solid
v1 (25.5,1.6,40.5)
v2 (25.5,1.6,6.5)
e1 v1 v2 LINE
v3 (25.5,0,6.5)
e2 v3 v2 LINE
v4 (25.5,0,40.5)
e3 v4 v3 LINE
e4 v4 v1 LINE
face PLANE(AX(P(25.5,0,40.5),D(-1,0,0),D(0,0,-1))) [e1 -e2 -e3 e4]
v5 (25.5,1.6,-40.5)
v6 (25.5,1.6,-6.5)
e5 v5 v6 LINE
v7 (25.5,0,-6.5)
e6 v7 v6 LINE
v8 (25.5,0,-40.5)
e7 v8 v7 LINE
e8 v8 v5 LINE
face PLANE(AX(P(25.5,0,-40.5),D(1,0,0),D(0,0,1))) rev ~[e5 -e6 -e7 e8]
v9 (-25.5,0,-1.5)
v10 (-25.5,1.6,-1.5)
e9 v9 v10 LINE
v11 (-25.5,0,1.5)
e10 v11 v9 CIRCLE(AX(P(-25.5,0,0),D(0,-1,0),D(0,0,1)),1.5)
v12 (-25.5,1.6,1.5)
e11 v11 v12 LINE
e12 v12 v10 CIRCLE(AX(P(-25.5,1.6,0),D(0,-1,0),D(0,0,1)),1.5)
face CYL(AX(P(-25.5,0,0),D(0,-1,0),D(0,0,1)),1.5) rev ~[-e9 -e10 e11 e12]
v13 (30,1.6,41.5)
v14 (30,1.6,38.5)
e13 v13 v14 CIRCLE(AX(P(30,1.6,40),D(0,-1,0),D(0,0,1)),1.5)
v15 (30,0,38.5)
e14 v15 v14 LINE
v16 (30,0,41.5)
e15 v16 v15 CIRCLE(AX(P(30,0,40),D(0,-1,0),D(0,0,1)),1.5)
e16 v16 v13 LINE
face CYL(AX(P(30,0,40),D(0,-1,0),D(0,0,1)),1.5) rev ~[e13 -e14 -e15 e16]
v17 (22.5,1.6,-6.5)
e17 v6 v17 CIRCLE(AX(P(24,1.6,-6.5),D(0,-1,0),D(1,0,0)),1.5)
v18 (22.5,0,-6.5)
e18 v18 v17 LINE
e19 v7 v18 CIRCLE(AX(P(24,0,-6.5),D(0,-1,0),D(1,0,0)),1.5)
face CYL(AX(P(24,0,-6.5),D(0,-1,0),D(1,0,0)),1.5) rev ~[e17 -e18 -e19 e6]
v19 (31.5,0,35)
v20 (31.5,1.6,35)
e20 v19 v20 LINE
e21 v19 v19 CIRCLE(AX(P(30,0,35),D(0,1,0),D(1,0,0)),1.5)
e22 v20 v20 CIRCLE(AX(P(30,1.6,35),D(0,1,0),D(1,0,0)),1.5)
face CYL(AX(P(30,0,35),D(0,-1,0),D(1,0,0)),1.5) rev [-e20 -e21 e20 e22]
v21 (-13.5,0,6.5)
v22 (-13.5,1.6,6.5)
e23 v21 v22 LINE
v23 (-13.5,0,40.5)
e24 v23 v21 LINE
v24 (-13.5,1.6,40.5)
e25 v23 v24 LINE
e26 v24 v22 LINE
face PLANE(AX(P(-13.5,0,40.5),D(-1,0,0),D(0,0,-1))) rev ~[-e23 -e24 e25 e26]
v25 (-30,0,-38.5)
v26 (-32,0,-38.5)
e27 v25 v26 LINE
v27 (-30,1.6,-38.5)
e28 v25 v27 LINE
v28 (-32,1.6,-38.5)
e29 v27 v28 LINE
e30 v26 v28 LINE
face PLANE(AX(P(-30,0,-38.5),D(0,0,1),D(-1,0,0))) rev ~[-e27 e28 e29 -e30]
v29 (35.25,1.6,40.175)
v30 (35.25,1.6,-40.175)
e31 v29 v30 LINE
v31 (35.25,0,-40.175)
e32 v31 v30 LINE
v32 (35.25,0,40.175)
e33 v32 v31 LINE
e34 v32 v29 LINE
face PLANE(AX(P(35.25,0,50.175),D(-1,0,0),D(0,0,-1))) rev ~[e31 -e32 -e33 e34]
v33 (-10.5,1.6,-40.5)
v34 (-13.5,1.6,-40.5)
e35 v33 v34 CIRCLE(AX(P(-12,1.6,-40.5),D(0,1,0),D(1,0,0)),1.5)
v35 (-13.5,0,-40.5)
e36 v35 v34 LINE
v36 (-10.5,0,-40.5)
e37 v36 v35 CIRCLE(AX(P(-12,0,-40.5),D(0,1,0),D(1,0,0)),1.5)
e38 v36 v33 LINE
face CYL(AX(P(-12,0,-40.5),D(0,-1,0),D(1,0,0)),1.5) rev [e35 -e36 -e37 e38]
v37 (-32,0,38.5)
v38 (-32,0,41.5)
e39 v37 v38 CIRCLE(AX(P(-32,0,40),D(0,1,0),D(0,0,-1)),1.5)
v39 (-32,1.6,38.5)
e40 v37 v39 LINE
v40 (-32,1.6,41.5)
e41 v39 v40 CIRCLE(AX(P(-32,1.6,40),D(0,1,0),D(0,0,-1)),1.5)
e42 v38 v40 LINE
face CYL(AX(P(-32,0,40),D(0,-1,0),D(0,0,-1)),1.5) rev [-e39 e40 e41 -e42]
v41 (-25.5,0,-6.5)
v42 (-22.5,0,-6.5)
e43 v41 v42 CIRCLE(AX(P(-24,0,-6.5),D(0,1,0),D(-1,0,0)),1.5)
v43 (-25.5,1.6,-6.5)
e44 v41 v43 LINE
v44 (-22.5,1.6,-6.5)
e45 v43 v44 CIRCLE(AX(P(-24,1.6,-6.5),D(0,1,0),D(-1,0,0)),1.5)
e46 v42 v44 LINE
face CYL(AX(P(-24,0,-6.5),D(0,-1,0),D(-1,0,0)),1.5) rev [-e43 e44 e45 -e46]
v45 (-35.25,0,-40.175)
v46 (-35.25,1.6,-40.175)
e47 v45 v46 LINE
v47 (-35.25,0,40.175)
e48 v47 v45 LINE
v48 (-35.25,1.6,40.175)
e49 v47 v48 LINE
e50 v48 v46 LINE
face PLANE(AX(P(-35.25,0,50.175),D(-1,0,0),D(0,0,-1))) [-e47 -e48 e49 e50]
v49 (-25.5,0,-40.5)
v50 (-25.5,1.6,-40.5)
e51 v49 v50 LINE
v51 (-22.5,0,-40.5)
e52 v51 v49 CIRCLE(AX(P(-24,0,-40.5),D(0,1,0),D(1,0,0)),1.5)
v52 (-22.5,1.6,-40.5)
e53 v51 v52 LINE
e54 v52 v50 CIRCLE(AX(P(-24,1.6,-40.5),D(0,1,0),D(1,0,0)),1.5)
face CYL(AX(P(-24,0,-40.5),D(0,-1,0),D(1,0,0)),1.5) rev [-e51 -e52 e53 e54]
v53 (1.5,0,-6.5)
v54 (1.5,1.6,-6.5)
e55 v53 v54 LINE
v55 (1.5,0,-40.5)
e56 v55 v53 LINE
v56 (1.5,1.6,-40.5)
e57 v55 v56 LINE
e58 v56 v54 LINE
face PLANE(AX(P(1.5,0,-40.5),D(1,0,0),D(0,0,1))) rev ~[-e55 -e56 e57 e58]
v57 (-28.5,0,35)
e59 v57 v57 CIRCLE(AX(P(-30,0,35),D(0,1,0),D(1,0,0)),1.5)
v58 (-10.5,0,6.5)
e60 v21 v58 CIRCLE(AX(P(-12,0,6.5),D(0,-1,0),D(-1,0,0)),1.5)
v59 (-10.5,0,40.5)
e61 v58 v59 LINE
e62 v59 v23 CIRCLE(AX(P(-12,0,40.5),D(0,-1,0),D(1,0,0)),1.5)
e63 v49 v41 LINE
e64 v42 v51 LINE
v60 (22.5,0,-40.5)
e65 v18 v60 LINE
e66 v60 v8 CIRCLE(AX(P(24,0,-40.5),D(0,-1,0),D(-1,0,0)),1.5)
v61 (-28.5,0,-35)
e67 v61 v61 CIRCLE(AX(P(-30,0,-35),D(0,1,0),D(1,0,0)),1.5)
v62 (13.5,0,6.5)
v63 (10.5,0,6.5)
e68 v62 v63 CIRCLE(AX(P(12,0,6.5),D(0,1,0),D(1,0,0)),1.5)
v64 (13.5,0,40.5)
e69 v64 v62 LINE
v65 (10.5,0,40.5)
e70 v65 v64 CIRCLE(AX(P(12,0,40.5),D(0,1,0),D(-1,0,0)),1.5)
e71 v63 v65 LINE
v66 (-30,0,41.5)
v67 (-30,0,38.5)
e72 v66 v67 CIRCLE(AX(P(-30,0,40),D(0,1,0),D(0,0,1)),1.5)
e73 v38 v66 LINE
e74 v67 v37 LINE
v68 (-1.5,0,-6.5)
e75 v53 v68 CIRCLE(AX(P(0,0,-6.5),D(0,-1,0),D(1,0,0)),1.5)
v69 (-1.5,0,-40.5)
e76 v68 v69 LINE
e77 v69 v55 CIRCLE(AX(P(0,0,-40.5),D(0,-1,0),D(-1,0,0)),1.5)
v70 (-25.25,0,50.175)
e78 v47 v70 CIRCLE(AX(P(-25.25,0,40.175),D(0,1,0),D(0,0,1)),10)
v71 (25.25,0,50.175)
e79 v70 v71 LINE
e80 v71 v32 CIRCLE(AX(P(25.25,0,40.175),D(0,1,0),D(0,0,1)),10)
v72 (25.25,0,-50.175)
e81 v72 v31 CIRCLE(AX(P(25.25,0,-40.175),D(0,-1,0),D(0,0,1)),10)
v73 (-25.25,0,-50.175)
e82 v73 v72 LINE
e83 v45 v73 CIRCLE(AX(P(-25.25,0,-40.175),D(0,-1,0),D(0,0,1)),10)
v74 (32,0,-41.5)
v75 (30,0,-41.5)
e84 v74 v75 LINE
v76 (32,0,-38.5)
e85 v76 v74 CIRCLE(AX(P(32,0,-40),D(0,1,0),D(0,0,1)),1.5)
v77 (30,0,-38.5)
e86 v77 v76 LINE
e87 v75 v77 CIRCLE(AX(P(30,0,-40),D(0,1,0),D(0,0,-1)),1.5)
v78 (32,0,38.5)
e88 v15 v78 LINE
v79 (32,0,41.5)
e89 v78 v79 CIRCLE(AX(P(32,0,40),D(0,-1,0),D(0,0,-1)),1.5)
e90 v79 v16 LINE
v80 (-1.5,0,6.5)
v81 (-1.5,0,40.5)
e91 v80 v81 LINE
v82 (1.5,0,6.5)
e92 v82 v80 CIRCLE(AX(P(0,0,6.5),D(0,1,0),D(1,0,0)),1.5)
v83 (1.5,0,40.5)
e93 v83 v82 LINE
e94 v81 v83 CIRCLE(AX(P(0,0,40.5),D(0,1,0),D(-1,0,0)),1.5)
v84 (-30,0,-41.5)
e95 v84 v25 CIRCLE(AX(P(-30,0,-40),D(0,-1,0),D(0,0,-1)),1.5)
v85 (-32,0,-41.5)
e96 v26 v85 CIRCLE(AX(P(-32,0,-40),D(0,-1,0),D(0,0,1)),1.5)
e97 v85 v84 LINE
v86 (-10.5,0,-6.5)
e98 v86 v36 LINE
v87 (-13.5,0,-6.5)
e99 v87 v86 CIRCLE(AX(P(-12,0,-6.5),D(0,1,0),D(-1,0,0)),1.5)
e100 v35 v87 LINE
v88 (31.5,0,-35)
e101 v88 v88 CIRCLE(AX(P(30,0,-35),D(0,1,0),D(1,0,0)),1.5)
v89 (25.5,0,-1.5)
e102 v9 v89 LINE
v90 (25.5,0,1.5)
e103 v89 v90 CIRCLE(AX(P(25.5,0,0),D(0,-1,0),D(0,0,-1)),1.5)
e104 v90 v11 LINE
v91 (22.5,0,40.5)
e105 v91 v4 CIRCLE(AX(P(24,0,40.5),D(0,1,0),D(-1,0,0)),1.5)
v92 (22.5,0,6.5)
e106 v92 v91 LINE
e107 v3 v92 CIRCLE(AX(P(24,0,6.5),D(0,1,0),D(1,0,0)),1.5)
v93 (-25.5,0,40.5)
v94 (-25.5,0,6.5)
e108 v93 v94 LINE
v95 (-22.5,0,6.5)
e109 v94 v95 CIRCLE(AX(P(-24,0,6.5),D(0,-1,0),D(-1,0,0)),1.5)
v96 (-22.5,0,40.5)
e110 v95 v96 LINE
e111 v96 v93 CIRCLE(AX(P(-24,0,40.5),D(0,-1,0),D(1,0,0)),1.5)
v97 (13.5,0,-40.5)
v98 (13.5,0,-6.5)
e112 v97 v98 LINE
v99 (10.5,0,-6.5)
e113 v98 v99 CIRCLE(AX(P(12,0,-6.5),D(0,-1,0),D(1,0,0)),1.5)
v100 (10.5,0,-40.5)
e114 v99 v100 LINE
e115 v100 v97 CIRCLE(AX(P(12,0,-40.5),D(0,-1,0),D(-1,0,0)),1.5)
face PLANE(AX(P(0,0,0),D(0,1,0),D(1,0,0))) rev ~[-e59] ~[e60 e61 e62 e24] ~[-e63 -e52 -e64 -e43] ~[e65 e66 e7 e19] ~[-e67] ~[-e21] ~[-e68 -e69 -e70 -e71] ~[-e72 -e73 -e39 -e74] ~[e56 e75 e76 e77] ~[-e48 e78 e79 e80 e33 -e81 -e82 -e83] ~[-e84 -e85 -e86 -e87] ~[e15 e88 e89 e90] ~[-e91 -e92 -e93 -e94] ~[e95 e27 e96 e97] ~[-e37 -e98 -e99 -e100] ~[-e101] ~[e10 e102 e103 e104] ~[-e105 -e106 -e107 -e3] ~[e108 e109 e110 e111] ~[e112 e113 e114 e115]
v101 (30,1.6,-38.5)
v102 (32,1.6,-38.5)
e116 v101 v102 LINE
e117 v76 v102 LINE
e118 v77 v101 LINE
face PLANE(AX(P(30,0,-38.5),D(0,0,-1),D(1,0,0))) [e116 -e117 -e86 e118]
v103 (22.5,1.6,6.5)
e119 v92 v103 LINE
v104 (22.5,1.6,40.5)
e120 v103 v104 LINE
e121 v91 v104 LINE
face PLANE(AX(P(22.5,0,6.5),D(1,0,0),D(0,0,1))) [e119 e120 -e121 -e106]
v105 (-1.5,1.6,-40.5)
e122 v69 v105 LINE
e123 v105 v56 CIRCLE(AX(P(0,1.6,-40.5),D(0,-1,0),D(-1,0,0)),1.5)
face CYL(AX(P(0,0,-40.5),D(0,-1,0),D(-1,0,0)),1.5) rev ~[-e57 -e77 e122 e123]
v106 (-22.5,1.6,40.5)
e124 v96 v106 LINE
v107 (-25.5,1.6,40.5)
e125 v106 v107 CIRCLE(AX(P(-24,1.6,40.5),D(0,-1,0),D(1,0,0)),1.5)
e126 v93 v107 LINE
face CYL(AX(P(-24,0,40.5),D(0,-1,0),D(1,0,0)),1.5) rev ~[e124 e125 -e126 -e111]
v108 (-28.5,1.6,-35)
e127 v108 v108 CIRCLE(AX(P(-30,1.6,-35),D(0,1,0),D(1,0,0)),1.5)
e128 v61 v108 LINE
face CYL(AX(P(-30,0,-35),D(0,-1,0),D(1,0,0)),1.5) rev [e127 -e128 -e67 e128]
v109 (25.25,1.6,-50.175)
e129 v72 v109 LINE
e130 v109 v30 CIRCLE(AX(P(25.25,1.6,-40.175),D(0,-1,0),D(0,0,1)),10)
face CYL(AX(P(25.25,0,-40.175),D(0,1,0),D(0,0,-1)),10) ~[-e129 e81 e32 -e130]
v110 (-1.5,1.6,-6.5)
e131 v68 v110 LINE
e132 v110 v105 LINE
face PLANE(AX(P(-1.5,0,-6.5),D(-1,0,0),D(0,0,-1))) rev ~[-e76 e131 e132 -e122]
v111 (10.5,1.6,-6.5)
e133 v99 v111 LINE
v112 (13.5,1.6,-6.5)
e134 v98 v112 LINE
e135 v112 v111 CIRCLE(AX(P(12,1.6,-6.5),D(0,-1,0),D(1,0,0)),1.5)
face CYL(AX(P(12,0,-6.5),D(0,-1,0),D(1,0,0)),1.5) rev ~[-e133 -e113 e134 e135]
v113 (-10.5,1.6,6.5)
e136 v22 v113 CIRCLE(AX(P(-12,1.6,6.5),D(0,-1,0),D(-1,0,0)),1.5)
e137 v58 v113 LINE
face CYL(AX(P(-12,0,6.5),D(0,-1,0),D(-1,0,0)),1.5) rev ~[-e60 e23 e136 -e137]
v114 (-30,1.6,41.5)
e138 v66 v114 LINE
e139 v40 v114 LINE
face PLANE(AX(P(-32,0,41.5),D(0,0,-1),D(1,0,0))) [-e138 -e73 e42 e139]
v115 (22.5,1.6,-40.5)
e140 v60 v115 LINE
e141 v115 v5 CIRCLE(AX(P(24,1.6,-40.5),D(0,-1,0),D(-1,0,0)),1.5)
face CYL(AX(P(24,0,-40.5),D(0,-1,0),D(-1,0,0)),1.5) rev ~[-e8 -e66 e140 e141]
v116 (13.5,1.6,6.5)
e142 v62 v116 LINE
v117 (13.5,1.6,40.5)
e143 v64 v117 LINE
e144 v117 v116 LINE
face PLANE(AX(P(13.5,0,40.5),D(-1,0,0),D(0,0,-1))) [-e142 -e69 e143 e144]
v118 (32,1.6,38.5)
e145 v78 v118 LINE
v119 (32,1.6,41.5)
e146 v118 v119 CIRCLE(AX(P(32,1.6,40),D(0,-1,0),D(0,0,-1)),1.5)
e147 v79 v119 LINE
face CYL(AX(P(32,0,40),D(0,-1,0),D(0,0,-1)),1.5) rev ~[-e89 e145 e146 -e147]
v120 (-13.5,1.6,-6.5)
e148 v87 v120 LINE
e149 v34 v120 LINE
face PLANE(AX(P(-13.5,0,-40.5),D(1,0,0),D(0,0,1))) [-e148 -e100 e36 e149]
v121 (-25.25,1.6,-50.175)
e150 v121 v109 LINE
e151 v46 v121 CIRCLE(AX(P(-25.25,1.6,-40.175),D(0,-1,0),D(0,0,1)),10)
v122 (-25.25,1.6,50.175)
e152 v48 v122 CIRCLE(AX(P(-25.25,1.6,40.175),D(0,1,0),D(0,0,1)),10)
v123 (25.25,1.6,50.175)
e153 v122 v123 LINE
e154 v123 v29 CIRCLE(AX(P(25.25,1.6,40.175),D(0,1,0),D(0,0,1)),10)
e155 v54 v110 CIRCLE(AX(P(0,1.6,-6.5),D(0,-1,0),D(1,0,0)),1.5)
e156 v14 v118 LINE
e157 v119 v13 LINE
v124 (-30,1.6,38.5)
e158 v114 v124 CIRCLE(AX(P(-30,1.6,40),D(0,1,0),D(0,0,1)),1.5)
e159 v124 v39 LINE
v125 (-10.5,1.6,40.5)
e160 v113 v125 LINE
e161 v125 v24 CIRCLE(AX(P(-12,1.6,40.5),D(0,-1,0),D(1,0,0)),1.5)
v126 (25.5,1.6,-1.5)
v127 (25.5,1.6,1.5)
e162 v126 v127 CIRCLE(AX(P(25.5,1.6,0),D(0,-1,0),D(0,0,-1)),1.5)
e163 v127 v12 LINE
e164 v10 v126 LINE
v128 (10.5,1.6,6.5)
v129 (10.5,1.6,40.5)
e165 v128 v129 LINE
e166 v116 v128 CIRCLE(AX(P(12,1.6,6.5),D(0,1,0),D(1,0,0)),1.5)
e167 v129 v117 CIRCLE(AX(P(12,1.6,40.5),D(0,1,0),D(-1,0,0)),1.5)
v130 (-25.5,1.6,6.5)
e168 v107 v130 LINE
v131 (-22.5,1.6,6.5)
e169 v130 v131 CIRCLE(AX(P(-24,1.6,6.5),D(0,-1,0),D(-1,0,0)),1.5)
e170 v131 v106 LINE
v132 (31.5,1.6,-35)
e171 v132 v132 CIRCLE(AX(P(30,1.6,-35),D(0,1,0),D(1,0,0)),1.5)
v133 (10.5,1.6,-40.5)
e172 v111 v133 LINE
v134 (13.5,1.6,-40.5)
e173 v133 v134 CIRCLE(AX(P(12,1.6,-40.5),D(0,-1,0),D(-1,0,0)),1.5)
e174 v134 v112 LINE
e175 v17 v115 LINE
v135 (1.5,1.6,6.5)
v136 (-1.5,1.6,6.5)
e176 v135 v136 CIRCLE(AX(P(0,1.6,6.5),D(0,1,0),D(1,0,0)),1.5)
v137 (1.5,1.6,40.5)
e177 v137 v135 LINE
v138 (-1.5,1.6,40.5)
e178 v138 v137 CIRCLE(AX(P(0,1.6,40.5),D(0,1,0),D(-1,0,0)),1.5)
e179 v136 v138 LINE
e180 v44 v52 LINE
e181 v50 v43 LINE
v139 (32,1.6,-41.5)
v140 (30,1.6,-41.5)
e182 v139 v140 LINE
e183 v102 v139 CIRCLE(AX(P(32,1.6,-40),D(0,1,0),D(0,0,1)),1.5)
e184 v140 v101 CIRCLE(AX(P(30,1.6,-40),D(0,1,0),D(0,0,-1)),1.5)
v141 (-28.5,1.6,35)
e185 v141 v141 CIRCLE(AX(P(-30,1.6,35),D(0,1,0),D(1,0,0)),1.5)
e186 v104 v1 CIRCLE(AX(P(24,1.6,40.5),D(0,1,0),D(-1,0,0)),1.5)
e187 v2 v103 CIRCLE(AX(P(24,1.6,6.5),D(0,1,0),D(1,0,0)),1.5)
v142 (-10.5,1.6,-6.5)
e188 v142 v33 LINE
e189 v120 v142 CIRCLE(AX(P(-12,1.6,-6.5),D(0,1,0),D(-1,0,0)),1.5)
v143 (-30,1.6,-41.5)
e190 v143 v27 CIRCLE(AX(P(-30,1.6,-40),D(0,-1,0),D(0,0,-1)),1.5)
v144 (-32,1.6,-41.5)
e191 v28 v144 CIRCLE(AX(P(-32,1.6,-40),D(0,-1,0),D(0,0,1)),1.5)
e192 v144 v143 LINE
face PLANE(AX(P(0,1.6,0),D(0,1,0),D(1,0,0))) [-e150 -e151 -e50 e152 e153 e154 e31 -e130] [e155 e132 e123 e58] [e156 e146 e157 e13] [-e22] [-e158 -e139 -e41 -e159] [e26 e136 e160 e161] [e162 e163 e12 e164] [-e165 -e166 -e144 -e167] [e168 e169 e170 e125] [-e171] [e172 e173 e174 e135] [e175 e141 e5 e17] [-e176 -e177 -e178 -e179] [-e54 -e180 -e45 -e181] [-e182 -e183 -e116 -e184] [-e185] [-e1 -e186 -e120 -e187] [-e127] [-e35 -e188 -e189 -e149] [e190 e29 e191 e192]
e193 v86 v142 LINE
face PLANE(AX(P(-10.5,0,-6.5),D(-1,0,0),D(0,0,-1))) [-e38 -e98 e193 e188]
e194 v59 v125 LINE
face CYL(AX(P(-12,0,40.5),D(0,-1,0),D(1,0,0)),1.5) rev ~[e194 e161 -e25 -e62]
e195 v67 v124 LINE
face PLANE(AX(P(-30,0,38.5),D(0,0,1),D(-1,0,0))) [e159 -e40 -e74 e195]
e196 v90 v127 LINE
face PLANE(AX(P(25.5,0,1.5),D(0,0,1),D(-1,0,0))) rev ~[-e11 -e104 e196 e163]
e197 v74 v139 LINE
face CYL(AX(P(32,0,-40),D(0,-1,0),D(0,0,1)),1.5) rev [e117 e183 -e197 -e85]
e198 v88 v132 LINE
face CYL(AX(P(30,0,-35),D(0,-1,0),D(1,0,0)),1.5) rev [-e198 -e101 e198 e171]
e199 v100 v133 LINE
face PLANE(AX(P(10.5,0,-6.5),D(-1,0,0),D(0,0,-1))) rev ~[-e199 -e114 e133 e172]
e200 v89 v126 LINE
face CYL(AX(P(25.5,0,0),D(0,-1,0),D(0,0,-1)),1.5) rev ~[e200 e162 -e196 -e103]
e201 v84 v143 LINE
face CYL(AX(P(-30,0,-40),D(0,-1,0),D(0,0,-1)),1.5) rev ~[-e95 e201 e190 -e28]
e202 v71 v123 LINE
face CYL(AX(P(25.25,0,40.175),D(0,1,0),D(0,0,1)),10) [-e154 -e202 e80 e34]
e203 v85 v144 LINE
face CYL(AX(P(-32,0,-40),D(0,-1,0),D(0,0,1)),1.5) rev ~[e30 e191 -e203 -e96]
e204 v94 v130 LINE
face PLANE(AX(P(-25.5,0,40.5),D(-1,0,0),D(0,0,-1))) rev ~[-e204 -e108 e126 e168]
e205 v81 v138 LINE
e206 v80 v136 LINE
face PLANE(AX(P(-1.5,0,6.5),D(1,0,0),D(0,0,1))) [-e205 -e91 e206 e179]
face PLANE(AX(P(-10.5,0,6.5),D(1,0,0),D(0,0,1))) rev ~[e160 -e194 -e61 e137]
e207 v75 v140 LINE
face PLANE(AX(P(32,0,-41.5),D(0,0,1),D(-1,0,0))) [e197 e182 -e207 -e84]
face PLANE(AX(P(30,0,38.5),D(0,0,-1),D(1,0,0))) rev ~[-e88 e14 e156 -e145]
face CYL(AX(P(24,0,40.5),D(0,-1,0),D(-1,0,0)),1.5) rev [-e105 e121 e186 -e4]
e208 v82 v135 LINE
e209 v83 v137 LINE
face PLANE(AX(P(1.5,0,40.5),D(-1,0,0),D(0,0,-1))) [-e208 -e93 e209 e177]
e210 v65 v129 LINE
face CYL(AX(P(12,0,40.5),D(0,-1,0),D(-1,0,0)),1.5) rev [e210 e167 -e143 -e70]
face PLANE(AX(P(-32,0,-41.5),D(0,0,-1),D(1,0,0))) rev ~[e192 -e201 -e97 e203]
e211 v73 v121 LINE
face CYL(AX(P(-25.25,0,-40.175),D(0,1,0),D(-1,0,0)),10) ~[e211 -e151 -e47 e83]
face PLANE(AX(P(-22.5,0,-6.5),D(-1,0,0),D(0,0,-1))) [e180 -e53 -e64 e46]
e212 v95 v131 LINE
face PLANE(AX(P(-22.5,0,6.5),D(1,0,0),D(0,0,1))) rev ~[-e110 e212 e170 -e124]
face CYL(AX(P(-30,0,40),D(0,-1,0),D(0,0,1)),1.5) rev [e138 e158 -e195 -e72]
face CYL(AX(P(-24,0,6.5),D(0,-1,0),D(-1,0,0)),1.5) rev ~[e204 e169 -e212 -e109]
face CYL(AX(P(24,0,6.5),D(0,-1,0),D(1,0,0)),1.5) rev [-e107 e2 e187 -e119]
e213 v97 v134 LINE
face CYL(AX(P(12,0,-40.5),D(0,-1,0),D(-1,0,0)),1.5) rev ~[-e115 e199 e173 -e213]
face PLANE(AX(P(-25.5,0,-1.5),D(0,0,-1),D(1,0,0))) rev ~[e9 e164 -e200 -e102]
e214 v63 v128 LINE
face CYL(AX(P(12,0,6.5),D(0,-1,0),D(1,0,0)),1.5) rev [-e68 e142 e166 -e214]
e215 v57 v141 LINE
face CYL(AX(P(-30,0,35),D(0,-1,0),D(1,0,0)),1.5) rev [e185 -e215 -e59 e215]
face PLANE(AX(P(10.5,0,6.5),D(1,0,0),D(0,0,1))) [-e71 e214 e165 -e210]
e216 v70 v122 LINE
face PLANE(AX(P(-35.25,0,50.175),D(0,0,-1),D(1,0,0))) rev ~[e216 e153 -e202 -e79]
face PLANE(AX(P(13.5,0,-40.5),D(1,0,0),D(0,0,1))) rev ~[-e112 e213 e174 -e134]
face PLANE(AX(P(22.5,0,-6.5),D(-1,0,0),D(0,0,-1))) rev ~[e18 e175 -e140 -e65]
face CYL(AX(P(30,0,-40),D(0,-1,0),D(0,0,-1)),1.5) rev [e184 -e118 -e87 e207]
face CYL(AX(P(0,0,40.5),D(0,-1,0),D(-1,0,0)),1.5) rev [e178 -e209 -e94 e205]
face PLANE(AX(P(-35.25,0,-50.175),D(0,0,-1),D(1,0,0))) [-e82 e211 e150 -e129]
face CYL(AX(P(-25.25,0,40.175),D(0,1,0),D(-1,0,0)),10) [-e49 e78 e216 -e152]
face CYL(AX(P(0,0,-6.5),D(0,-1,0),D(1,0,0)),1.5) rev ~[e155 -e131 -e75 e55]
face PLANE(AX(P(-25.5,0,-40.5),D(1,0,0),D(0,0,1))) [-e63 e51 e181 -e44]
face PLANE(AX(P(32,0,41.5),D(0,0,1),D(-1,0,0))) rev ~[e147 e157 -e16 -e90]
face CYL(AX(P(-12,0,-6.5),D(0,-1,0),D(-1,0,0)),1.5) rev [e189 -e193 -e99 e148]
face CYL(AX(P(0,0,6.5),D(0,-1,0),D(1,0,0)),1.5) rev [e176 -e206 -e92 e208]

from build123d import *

# Parameters (mm, degrees)
SKETCH_1_W      = 70.5
SKETCH_1_H      = 100.35
SKETCH_1_R      = 1.5
EXTRUDE_1_DEPTH = 1.6
FILLET_1_R      = 10


with BuildPart() as part:
    # 草圖1 → 填料-伸長1 (new body)
    with BuildSketch(Plane(origin=(0, 0, 0), x_dir=(1, 0, 0), z_dir=(0, 1, 0))):
        Rectangle(SKETCH_1_W, SKETCH_1_H)
        with Locations((-30, 35)):
            Circle(SKETCH_1_R, mode=Mode.SUBTRACT)
        with Locations((30, 35)):
            Circle(SKETCH_1_R, mode=Mode.SUBTRACT)
        with Locations((-30, -35)):
            Circle(SKETCH_1_R, mode=Mode.SUBTRACT)
        with Locations((30, -35)):
            Circle(SKETCH_1_R, mode=Mode.SUBTRACT)
        with BuildLine():
            Line((-25.5, 1.5), (25.5, 1.5))
            ThreePointArc((25.5, 1.5), (27, 0), (25.5, -1.5))
            Line((25.5, -1.5), (-25.5, -1.5))
            ThreePointArc((-25.5, -1.5), (-27, 0), (-25.5, 1.5))
        make_face(mode=Mode.SUBTRACT)
        with BuildLine():
            Line((1.5, 40.5), (1.5, 6.5))
            ThreePointArc((1.5, 6.5), (0, 5), (-1.5, 6.5))
            Line((-1.5, 6.5), (-1.5, 40.5))
            ThreePointArc((-1.5, 40.5), (0, 42), (1.5, 40.5))
        make_face(mode=Mode.SUBTRACT)
        with BuildLine():
            Line((1.5, -40.5), (1.5, -6.5))
            ThreePointArc((1.5, -6.5), (0, -5), (-1.5, -6.5))
            Line((-1.5, -6.5), (-1.5, -40.5))
            ThreePointArc((-1.5, -40.5), (0, -42), (1.5, -40.5))
        make_face(mode=Mode.SUBTRACT)
        with BuildLine():
            Line((13.5, 40.5), (13.5, 6.5))
            ThreePointArc((13.5, 6.5), (12, 5), (10.5, 6.5))
            Line((10.5, 6.5), (10.5, 40.5))
            ThreePointArc((10.5, 40.5), (12, 42), (13.5, 40.5))
        make_face(mode=Mode.SUBTRACT)
        with BuildLine():
            Line((13.5, -40.5), (13.5, -6.5))
            ThreePointArc((13.5, -6.5), (12, -5), (10.5, -6.5))
            Line((10.5, -6.5), (10.5, -40.5))
            ThreePointArc((10.5, -40.5), (12, -42), (13.5, -40.5))
        make_face(mode=Mode.SUBTRACT)
        with BuildLine():
            Line((25.5, 40.5), (25.5, 6.5))
            ThreePointArc((25.5, 6.5), (24, 5), (22.5, 6.5))
            Line((22.5, 6.5), (22.5, 40.5))
            ThreePointArc((22.5, 40.5), (24, 42), (25.5, 40.5))
        make_face(mode=Mode.SUBTRACT)
        with BuildLine():
            Line((25.5, -40.5), (25.5, -6.5))
            ThreePointArc((25.5, -6.5), (24, -5), (22.5, -6.5))
            Line((22.5, -6.5), (22.5, -40.5))
            ThreePointArc((22.5, -40.5), (24, -42), (25.5, -40.5))
        make_face(mode=Mode.SUBTRACT)
        with BuildLine():
            Line((-25.5, -40.5), (-25.5, -6.5))
            ThreePointArc((-25.5, -6.5), (-24, -5), (-22.5, -6.5))
            Line((-22.5, -6.5), (-22.5, -40.5))
            ThreePointArc((-22.5, -40.5), (-24, -42), (-25.5, -40.5))
        make_face(mode=Mode.SUBTRACT)
        with BuildLine():
            Line((-13.5, -40.5), (-13.5, -6.5))
            ThreePointArc((-13.5, -6.5), (-12, -5), (-10.5, -6.5))
            Line((-10.5, -6.5), (-10.5, -40.5))
            ThreePointArc((-10.5, -40.5), (-12, -42), (-13.5, -40.5))
        make_face(mode=Mode.SUBTRACT)
        with BuildLine():
            Line((-13.5, 40.5), (-13.5, 6.5))
            ThreePointArc((-13.5, 6.5), (-12, 5), (-10.5, 6.5))
            Line((-10.5, 6.5), (-10.5, 40.5))
            ThreePointArc((-10.5, 40.5), (-12, 42), (-13.5, 40.5))
        make_face(mode=Mode.SUBTRACT)
        with BuildLine():
            Line((-25.5, 40.5), (-25.5, 6.5))
            ThreePointArc((-25.5, 6.5), (-24, 5), (-22.5, 6.5))
            Line((-22.5, 6.5), (-22.5, 40.5))
            ThreePointArc((-22.5, 40.5), (-24, 42), (-25.5, 40.5))
        make_face(mode=Mode.SUBTRACT)
        with BuildLine():
            Line((-32, 41.5), (-30, 41.5))
            ThreePointArc((-30, 41.5), (-28.5, 40), (-30, 38.5))
            Line((-30, 38.5), (-32, 38.5))
            ThreePointArc((-32, 38.5), (-33.5, 40), (-32, 41.5))
        make_face(mode=Mode.SUBTRACT)
        with BuildLine():
            Line((32, 41.5), (30, 41.5))
            ThreePointArc((30, 41.5), (28.5, 40), (30, 38.5))
            Line((30, 38.5), (32, 38.5))
            ThreePointArc((32, 38.5), (33.5, 40), (32, 41.5))
        make_face(mode=Mode.SUBTRACT)
        with BuildLine():
            Line((32, -41.5), (30, -41.5))
            ThreePointArc((30, -41.5), (28.5, -40), (30, -38.5))
            Line((30, -38.5), (32, -38.5))
            ThreePointArc((32, -38.5), (33.5, -40), (32, -41.5))
        make_face(mode=Mode.SUBTRACT)
        with BuildLine():
            Line((-32, -41.5), (-30, -41.5))
            ThreePointArc((-30, -41.5), (-28.5, -40), (-30, -38.5))
            Line((-30, -38.5), (-32, -38.5))
            ThreePointArc((-32, -38.5), (-33.5, -40), (-32, -41.5))
        make_face(mode=Mode.SUBTRACT)
    extrude(amount=EXTRUDE_1_DEPTH)

    # 圓角1
    fillet_1_edges = [part.edges().sort_by_distance(p)[0] for p in [
        (35.25, 0.8, 50.175),
        (-35.25, 0.8, 50.175),
        (-35.25, 0.8, -50.175),
        (35.25, 0.8, -50.175),
    ]]
    fillet(fillet_1_edges, radius=FILLET_1_R)


solid = part.part
